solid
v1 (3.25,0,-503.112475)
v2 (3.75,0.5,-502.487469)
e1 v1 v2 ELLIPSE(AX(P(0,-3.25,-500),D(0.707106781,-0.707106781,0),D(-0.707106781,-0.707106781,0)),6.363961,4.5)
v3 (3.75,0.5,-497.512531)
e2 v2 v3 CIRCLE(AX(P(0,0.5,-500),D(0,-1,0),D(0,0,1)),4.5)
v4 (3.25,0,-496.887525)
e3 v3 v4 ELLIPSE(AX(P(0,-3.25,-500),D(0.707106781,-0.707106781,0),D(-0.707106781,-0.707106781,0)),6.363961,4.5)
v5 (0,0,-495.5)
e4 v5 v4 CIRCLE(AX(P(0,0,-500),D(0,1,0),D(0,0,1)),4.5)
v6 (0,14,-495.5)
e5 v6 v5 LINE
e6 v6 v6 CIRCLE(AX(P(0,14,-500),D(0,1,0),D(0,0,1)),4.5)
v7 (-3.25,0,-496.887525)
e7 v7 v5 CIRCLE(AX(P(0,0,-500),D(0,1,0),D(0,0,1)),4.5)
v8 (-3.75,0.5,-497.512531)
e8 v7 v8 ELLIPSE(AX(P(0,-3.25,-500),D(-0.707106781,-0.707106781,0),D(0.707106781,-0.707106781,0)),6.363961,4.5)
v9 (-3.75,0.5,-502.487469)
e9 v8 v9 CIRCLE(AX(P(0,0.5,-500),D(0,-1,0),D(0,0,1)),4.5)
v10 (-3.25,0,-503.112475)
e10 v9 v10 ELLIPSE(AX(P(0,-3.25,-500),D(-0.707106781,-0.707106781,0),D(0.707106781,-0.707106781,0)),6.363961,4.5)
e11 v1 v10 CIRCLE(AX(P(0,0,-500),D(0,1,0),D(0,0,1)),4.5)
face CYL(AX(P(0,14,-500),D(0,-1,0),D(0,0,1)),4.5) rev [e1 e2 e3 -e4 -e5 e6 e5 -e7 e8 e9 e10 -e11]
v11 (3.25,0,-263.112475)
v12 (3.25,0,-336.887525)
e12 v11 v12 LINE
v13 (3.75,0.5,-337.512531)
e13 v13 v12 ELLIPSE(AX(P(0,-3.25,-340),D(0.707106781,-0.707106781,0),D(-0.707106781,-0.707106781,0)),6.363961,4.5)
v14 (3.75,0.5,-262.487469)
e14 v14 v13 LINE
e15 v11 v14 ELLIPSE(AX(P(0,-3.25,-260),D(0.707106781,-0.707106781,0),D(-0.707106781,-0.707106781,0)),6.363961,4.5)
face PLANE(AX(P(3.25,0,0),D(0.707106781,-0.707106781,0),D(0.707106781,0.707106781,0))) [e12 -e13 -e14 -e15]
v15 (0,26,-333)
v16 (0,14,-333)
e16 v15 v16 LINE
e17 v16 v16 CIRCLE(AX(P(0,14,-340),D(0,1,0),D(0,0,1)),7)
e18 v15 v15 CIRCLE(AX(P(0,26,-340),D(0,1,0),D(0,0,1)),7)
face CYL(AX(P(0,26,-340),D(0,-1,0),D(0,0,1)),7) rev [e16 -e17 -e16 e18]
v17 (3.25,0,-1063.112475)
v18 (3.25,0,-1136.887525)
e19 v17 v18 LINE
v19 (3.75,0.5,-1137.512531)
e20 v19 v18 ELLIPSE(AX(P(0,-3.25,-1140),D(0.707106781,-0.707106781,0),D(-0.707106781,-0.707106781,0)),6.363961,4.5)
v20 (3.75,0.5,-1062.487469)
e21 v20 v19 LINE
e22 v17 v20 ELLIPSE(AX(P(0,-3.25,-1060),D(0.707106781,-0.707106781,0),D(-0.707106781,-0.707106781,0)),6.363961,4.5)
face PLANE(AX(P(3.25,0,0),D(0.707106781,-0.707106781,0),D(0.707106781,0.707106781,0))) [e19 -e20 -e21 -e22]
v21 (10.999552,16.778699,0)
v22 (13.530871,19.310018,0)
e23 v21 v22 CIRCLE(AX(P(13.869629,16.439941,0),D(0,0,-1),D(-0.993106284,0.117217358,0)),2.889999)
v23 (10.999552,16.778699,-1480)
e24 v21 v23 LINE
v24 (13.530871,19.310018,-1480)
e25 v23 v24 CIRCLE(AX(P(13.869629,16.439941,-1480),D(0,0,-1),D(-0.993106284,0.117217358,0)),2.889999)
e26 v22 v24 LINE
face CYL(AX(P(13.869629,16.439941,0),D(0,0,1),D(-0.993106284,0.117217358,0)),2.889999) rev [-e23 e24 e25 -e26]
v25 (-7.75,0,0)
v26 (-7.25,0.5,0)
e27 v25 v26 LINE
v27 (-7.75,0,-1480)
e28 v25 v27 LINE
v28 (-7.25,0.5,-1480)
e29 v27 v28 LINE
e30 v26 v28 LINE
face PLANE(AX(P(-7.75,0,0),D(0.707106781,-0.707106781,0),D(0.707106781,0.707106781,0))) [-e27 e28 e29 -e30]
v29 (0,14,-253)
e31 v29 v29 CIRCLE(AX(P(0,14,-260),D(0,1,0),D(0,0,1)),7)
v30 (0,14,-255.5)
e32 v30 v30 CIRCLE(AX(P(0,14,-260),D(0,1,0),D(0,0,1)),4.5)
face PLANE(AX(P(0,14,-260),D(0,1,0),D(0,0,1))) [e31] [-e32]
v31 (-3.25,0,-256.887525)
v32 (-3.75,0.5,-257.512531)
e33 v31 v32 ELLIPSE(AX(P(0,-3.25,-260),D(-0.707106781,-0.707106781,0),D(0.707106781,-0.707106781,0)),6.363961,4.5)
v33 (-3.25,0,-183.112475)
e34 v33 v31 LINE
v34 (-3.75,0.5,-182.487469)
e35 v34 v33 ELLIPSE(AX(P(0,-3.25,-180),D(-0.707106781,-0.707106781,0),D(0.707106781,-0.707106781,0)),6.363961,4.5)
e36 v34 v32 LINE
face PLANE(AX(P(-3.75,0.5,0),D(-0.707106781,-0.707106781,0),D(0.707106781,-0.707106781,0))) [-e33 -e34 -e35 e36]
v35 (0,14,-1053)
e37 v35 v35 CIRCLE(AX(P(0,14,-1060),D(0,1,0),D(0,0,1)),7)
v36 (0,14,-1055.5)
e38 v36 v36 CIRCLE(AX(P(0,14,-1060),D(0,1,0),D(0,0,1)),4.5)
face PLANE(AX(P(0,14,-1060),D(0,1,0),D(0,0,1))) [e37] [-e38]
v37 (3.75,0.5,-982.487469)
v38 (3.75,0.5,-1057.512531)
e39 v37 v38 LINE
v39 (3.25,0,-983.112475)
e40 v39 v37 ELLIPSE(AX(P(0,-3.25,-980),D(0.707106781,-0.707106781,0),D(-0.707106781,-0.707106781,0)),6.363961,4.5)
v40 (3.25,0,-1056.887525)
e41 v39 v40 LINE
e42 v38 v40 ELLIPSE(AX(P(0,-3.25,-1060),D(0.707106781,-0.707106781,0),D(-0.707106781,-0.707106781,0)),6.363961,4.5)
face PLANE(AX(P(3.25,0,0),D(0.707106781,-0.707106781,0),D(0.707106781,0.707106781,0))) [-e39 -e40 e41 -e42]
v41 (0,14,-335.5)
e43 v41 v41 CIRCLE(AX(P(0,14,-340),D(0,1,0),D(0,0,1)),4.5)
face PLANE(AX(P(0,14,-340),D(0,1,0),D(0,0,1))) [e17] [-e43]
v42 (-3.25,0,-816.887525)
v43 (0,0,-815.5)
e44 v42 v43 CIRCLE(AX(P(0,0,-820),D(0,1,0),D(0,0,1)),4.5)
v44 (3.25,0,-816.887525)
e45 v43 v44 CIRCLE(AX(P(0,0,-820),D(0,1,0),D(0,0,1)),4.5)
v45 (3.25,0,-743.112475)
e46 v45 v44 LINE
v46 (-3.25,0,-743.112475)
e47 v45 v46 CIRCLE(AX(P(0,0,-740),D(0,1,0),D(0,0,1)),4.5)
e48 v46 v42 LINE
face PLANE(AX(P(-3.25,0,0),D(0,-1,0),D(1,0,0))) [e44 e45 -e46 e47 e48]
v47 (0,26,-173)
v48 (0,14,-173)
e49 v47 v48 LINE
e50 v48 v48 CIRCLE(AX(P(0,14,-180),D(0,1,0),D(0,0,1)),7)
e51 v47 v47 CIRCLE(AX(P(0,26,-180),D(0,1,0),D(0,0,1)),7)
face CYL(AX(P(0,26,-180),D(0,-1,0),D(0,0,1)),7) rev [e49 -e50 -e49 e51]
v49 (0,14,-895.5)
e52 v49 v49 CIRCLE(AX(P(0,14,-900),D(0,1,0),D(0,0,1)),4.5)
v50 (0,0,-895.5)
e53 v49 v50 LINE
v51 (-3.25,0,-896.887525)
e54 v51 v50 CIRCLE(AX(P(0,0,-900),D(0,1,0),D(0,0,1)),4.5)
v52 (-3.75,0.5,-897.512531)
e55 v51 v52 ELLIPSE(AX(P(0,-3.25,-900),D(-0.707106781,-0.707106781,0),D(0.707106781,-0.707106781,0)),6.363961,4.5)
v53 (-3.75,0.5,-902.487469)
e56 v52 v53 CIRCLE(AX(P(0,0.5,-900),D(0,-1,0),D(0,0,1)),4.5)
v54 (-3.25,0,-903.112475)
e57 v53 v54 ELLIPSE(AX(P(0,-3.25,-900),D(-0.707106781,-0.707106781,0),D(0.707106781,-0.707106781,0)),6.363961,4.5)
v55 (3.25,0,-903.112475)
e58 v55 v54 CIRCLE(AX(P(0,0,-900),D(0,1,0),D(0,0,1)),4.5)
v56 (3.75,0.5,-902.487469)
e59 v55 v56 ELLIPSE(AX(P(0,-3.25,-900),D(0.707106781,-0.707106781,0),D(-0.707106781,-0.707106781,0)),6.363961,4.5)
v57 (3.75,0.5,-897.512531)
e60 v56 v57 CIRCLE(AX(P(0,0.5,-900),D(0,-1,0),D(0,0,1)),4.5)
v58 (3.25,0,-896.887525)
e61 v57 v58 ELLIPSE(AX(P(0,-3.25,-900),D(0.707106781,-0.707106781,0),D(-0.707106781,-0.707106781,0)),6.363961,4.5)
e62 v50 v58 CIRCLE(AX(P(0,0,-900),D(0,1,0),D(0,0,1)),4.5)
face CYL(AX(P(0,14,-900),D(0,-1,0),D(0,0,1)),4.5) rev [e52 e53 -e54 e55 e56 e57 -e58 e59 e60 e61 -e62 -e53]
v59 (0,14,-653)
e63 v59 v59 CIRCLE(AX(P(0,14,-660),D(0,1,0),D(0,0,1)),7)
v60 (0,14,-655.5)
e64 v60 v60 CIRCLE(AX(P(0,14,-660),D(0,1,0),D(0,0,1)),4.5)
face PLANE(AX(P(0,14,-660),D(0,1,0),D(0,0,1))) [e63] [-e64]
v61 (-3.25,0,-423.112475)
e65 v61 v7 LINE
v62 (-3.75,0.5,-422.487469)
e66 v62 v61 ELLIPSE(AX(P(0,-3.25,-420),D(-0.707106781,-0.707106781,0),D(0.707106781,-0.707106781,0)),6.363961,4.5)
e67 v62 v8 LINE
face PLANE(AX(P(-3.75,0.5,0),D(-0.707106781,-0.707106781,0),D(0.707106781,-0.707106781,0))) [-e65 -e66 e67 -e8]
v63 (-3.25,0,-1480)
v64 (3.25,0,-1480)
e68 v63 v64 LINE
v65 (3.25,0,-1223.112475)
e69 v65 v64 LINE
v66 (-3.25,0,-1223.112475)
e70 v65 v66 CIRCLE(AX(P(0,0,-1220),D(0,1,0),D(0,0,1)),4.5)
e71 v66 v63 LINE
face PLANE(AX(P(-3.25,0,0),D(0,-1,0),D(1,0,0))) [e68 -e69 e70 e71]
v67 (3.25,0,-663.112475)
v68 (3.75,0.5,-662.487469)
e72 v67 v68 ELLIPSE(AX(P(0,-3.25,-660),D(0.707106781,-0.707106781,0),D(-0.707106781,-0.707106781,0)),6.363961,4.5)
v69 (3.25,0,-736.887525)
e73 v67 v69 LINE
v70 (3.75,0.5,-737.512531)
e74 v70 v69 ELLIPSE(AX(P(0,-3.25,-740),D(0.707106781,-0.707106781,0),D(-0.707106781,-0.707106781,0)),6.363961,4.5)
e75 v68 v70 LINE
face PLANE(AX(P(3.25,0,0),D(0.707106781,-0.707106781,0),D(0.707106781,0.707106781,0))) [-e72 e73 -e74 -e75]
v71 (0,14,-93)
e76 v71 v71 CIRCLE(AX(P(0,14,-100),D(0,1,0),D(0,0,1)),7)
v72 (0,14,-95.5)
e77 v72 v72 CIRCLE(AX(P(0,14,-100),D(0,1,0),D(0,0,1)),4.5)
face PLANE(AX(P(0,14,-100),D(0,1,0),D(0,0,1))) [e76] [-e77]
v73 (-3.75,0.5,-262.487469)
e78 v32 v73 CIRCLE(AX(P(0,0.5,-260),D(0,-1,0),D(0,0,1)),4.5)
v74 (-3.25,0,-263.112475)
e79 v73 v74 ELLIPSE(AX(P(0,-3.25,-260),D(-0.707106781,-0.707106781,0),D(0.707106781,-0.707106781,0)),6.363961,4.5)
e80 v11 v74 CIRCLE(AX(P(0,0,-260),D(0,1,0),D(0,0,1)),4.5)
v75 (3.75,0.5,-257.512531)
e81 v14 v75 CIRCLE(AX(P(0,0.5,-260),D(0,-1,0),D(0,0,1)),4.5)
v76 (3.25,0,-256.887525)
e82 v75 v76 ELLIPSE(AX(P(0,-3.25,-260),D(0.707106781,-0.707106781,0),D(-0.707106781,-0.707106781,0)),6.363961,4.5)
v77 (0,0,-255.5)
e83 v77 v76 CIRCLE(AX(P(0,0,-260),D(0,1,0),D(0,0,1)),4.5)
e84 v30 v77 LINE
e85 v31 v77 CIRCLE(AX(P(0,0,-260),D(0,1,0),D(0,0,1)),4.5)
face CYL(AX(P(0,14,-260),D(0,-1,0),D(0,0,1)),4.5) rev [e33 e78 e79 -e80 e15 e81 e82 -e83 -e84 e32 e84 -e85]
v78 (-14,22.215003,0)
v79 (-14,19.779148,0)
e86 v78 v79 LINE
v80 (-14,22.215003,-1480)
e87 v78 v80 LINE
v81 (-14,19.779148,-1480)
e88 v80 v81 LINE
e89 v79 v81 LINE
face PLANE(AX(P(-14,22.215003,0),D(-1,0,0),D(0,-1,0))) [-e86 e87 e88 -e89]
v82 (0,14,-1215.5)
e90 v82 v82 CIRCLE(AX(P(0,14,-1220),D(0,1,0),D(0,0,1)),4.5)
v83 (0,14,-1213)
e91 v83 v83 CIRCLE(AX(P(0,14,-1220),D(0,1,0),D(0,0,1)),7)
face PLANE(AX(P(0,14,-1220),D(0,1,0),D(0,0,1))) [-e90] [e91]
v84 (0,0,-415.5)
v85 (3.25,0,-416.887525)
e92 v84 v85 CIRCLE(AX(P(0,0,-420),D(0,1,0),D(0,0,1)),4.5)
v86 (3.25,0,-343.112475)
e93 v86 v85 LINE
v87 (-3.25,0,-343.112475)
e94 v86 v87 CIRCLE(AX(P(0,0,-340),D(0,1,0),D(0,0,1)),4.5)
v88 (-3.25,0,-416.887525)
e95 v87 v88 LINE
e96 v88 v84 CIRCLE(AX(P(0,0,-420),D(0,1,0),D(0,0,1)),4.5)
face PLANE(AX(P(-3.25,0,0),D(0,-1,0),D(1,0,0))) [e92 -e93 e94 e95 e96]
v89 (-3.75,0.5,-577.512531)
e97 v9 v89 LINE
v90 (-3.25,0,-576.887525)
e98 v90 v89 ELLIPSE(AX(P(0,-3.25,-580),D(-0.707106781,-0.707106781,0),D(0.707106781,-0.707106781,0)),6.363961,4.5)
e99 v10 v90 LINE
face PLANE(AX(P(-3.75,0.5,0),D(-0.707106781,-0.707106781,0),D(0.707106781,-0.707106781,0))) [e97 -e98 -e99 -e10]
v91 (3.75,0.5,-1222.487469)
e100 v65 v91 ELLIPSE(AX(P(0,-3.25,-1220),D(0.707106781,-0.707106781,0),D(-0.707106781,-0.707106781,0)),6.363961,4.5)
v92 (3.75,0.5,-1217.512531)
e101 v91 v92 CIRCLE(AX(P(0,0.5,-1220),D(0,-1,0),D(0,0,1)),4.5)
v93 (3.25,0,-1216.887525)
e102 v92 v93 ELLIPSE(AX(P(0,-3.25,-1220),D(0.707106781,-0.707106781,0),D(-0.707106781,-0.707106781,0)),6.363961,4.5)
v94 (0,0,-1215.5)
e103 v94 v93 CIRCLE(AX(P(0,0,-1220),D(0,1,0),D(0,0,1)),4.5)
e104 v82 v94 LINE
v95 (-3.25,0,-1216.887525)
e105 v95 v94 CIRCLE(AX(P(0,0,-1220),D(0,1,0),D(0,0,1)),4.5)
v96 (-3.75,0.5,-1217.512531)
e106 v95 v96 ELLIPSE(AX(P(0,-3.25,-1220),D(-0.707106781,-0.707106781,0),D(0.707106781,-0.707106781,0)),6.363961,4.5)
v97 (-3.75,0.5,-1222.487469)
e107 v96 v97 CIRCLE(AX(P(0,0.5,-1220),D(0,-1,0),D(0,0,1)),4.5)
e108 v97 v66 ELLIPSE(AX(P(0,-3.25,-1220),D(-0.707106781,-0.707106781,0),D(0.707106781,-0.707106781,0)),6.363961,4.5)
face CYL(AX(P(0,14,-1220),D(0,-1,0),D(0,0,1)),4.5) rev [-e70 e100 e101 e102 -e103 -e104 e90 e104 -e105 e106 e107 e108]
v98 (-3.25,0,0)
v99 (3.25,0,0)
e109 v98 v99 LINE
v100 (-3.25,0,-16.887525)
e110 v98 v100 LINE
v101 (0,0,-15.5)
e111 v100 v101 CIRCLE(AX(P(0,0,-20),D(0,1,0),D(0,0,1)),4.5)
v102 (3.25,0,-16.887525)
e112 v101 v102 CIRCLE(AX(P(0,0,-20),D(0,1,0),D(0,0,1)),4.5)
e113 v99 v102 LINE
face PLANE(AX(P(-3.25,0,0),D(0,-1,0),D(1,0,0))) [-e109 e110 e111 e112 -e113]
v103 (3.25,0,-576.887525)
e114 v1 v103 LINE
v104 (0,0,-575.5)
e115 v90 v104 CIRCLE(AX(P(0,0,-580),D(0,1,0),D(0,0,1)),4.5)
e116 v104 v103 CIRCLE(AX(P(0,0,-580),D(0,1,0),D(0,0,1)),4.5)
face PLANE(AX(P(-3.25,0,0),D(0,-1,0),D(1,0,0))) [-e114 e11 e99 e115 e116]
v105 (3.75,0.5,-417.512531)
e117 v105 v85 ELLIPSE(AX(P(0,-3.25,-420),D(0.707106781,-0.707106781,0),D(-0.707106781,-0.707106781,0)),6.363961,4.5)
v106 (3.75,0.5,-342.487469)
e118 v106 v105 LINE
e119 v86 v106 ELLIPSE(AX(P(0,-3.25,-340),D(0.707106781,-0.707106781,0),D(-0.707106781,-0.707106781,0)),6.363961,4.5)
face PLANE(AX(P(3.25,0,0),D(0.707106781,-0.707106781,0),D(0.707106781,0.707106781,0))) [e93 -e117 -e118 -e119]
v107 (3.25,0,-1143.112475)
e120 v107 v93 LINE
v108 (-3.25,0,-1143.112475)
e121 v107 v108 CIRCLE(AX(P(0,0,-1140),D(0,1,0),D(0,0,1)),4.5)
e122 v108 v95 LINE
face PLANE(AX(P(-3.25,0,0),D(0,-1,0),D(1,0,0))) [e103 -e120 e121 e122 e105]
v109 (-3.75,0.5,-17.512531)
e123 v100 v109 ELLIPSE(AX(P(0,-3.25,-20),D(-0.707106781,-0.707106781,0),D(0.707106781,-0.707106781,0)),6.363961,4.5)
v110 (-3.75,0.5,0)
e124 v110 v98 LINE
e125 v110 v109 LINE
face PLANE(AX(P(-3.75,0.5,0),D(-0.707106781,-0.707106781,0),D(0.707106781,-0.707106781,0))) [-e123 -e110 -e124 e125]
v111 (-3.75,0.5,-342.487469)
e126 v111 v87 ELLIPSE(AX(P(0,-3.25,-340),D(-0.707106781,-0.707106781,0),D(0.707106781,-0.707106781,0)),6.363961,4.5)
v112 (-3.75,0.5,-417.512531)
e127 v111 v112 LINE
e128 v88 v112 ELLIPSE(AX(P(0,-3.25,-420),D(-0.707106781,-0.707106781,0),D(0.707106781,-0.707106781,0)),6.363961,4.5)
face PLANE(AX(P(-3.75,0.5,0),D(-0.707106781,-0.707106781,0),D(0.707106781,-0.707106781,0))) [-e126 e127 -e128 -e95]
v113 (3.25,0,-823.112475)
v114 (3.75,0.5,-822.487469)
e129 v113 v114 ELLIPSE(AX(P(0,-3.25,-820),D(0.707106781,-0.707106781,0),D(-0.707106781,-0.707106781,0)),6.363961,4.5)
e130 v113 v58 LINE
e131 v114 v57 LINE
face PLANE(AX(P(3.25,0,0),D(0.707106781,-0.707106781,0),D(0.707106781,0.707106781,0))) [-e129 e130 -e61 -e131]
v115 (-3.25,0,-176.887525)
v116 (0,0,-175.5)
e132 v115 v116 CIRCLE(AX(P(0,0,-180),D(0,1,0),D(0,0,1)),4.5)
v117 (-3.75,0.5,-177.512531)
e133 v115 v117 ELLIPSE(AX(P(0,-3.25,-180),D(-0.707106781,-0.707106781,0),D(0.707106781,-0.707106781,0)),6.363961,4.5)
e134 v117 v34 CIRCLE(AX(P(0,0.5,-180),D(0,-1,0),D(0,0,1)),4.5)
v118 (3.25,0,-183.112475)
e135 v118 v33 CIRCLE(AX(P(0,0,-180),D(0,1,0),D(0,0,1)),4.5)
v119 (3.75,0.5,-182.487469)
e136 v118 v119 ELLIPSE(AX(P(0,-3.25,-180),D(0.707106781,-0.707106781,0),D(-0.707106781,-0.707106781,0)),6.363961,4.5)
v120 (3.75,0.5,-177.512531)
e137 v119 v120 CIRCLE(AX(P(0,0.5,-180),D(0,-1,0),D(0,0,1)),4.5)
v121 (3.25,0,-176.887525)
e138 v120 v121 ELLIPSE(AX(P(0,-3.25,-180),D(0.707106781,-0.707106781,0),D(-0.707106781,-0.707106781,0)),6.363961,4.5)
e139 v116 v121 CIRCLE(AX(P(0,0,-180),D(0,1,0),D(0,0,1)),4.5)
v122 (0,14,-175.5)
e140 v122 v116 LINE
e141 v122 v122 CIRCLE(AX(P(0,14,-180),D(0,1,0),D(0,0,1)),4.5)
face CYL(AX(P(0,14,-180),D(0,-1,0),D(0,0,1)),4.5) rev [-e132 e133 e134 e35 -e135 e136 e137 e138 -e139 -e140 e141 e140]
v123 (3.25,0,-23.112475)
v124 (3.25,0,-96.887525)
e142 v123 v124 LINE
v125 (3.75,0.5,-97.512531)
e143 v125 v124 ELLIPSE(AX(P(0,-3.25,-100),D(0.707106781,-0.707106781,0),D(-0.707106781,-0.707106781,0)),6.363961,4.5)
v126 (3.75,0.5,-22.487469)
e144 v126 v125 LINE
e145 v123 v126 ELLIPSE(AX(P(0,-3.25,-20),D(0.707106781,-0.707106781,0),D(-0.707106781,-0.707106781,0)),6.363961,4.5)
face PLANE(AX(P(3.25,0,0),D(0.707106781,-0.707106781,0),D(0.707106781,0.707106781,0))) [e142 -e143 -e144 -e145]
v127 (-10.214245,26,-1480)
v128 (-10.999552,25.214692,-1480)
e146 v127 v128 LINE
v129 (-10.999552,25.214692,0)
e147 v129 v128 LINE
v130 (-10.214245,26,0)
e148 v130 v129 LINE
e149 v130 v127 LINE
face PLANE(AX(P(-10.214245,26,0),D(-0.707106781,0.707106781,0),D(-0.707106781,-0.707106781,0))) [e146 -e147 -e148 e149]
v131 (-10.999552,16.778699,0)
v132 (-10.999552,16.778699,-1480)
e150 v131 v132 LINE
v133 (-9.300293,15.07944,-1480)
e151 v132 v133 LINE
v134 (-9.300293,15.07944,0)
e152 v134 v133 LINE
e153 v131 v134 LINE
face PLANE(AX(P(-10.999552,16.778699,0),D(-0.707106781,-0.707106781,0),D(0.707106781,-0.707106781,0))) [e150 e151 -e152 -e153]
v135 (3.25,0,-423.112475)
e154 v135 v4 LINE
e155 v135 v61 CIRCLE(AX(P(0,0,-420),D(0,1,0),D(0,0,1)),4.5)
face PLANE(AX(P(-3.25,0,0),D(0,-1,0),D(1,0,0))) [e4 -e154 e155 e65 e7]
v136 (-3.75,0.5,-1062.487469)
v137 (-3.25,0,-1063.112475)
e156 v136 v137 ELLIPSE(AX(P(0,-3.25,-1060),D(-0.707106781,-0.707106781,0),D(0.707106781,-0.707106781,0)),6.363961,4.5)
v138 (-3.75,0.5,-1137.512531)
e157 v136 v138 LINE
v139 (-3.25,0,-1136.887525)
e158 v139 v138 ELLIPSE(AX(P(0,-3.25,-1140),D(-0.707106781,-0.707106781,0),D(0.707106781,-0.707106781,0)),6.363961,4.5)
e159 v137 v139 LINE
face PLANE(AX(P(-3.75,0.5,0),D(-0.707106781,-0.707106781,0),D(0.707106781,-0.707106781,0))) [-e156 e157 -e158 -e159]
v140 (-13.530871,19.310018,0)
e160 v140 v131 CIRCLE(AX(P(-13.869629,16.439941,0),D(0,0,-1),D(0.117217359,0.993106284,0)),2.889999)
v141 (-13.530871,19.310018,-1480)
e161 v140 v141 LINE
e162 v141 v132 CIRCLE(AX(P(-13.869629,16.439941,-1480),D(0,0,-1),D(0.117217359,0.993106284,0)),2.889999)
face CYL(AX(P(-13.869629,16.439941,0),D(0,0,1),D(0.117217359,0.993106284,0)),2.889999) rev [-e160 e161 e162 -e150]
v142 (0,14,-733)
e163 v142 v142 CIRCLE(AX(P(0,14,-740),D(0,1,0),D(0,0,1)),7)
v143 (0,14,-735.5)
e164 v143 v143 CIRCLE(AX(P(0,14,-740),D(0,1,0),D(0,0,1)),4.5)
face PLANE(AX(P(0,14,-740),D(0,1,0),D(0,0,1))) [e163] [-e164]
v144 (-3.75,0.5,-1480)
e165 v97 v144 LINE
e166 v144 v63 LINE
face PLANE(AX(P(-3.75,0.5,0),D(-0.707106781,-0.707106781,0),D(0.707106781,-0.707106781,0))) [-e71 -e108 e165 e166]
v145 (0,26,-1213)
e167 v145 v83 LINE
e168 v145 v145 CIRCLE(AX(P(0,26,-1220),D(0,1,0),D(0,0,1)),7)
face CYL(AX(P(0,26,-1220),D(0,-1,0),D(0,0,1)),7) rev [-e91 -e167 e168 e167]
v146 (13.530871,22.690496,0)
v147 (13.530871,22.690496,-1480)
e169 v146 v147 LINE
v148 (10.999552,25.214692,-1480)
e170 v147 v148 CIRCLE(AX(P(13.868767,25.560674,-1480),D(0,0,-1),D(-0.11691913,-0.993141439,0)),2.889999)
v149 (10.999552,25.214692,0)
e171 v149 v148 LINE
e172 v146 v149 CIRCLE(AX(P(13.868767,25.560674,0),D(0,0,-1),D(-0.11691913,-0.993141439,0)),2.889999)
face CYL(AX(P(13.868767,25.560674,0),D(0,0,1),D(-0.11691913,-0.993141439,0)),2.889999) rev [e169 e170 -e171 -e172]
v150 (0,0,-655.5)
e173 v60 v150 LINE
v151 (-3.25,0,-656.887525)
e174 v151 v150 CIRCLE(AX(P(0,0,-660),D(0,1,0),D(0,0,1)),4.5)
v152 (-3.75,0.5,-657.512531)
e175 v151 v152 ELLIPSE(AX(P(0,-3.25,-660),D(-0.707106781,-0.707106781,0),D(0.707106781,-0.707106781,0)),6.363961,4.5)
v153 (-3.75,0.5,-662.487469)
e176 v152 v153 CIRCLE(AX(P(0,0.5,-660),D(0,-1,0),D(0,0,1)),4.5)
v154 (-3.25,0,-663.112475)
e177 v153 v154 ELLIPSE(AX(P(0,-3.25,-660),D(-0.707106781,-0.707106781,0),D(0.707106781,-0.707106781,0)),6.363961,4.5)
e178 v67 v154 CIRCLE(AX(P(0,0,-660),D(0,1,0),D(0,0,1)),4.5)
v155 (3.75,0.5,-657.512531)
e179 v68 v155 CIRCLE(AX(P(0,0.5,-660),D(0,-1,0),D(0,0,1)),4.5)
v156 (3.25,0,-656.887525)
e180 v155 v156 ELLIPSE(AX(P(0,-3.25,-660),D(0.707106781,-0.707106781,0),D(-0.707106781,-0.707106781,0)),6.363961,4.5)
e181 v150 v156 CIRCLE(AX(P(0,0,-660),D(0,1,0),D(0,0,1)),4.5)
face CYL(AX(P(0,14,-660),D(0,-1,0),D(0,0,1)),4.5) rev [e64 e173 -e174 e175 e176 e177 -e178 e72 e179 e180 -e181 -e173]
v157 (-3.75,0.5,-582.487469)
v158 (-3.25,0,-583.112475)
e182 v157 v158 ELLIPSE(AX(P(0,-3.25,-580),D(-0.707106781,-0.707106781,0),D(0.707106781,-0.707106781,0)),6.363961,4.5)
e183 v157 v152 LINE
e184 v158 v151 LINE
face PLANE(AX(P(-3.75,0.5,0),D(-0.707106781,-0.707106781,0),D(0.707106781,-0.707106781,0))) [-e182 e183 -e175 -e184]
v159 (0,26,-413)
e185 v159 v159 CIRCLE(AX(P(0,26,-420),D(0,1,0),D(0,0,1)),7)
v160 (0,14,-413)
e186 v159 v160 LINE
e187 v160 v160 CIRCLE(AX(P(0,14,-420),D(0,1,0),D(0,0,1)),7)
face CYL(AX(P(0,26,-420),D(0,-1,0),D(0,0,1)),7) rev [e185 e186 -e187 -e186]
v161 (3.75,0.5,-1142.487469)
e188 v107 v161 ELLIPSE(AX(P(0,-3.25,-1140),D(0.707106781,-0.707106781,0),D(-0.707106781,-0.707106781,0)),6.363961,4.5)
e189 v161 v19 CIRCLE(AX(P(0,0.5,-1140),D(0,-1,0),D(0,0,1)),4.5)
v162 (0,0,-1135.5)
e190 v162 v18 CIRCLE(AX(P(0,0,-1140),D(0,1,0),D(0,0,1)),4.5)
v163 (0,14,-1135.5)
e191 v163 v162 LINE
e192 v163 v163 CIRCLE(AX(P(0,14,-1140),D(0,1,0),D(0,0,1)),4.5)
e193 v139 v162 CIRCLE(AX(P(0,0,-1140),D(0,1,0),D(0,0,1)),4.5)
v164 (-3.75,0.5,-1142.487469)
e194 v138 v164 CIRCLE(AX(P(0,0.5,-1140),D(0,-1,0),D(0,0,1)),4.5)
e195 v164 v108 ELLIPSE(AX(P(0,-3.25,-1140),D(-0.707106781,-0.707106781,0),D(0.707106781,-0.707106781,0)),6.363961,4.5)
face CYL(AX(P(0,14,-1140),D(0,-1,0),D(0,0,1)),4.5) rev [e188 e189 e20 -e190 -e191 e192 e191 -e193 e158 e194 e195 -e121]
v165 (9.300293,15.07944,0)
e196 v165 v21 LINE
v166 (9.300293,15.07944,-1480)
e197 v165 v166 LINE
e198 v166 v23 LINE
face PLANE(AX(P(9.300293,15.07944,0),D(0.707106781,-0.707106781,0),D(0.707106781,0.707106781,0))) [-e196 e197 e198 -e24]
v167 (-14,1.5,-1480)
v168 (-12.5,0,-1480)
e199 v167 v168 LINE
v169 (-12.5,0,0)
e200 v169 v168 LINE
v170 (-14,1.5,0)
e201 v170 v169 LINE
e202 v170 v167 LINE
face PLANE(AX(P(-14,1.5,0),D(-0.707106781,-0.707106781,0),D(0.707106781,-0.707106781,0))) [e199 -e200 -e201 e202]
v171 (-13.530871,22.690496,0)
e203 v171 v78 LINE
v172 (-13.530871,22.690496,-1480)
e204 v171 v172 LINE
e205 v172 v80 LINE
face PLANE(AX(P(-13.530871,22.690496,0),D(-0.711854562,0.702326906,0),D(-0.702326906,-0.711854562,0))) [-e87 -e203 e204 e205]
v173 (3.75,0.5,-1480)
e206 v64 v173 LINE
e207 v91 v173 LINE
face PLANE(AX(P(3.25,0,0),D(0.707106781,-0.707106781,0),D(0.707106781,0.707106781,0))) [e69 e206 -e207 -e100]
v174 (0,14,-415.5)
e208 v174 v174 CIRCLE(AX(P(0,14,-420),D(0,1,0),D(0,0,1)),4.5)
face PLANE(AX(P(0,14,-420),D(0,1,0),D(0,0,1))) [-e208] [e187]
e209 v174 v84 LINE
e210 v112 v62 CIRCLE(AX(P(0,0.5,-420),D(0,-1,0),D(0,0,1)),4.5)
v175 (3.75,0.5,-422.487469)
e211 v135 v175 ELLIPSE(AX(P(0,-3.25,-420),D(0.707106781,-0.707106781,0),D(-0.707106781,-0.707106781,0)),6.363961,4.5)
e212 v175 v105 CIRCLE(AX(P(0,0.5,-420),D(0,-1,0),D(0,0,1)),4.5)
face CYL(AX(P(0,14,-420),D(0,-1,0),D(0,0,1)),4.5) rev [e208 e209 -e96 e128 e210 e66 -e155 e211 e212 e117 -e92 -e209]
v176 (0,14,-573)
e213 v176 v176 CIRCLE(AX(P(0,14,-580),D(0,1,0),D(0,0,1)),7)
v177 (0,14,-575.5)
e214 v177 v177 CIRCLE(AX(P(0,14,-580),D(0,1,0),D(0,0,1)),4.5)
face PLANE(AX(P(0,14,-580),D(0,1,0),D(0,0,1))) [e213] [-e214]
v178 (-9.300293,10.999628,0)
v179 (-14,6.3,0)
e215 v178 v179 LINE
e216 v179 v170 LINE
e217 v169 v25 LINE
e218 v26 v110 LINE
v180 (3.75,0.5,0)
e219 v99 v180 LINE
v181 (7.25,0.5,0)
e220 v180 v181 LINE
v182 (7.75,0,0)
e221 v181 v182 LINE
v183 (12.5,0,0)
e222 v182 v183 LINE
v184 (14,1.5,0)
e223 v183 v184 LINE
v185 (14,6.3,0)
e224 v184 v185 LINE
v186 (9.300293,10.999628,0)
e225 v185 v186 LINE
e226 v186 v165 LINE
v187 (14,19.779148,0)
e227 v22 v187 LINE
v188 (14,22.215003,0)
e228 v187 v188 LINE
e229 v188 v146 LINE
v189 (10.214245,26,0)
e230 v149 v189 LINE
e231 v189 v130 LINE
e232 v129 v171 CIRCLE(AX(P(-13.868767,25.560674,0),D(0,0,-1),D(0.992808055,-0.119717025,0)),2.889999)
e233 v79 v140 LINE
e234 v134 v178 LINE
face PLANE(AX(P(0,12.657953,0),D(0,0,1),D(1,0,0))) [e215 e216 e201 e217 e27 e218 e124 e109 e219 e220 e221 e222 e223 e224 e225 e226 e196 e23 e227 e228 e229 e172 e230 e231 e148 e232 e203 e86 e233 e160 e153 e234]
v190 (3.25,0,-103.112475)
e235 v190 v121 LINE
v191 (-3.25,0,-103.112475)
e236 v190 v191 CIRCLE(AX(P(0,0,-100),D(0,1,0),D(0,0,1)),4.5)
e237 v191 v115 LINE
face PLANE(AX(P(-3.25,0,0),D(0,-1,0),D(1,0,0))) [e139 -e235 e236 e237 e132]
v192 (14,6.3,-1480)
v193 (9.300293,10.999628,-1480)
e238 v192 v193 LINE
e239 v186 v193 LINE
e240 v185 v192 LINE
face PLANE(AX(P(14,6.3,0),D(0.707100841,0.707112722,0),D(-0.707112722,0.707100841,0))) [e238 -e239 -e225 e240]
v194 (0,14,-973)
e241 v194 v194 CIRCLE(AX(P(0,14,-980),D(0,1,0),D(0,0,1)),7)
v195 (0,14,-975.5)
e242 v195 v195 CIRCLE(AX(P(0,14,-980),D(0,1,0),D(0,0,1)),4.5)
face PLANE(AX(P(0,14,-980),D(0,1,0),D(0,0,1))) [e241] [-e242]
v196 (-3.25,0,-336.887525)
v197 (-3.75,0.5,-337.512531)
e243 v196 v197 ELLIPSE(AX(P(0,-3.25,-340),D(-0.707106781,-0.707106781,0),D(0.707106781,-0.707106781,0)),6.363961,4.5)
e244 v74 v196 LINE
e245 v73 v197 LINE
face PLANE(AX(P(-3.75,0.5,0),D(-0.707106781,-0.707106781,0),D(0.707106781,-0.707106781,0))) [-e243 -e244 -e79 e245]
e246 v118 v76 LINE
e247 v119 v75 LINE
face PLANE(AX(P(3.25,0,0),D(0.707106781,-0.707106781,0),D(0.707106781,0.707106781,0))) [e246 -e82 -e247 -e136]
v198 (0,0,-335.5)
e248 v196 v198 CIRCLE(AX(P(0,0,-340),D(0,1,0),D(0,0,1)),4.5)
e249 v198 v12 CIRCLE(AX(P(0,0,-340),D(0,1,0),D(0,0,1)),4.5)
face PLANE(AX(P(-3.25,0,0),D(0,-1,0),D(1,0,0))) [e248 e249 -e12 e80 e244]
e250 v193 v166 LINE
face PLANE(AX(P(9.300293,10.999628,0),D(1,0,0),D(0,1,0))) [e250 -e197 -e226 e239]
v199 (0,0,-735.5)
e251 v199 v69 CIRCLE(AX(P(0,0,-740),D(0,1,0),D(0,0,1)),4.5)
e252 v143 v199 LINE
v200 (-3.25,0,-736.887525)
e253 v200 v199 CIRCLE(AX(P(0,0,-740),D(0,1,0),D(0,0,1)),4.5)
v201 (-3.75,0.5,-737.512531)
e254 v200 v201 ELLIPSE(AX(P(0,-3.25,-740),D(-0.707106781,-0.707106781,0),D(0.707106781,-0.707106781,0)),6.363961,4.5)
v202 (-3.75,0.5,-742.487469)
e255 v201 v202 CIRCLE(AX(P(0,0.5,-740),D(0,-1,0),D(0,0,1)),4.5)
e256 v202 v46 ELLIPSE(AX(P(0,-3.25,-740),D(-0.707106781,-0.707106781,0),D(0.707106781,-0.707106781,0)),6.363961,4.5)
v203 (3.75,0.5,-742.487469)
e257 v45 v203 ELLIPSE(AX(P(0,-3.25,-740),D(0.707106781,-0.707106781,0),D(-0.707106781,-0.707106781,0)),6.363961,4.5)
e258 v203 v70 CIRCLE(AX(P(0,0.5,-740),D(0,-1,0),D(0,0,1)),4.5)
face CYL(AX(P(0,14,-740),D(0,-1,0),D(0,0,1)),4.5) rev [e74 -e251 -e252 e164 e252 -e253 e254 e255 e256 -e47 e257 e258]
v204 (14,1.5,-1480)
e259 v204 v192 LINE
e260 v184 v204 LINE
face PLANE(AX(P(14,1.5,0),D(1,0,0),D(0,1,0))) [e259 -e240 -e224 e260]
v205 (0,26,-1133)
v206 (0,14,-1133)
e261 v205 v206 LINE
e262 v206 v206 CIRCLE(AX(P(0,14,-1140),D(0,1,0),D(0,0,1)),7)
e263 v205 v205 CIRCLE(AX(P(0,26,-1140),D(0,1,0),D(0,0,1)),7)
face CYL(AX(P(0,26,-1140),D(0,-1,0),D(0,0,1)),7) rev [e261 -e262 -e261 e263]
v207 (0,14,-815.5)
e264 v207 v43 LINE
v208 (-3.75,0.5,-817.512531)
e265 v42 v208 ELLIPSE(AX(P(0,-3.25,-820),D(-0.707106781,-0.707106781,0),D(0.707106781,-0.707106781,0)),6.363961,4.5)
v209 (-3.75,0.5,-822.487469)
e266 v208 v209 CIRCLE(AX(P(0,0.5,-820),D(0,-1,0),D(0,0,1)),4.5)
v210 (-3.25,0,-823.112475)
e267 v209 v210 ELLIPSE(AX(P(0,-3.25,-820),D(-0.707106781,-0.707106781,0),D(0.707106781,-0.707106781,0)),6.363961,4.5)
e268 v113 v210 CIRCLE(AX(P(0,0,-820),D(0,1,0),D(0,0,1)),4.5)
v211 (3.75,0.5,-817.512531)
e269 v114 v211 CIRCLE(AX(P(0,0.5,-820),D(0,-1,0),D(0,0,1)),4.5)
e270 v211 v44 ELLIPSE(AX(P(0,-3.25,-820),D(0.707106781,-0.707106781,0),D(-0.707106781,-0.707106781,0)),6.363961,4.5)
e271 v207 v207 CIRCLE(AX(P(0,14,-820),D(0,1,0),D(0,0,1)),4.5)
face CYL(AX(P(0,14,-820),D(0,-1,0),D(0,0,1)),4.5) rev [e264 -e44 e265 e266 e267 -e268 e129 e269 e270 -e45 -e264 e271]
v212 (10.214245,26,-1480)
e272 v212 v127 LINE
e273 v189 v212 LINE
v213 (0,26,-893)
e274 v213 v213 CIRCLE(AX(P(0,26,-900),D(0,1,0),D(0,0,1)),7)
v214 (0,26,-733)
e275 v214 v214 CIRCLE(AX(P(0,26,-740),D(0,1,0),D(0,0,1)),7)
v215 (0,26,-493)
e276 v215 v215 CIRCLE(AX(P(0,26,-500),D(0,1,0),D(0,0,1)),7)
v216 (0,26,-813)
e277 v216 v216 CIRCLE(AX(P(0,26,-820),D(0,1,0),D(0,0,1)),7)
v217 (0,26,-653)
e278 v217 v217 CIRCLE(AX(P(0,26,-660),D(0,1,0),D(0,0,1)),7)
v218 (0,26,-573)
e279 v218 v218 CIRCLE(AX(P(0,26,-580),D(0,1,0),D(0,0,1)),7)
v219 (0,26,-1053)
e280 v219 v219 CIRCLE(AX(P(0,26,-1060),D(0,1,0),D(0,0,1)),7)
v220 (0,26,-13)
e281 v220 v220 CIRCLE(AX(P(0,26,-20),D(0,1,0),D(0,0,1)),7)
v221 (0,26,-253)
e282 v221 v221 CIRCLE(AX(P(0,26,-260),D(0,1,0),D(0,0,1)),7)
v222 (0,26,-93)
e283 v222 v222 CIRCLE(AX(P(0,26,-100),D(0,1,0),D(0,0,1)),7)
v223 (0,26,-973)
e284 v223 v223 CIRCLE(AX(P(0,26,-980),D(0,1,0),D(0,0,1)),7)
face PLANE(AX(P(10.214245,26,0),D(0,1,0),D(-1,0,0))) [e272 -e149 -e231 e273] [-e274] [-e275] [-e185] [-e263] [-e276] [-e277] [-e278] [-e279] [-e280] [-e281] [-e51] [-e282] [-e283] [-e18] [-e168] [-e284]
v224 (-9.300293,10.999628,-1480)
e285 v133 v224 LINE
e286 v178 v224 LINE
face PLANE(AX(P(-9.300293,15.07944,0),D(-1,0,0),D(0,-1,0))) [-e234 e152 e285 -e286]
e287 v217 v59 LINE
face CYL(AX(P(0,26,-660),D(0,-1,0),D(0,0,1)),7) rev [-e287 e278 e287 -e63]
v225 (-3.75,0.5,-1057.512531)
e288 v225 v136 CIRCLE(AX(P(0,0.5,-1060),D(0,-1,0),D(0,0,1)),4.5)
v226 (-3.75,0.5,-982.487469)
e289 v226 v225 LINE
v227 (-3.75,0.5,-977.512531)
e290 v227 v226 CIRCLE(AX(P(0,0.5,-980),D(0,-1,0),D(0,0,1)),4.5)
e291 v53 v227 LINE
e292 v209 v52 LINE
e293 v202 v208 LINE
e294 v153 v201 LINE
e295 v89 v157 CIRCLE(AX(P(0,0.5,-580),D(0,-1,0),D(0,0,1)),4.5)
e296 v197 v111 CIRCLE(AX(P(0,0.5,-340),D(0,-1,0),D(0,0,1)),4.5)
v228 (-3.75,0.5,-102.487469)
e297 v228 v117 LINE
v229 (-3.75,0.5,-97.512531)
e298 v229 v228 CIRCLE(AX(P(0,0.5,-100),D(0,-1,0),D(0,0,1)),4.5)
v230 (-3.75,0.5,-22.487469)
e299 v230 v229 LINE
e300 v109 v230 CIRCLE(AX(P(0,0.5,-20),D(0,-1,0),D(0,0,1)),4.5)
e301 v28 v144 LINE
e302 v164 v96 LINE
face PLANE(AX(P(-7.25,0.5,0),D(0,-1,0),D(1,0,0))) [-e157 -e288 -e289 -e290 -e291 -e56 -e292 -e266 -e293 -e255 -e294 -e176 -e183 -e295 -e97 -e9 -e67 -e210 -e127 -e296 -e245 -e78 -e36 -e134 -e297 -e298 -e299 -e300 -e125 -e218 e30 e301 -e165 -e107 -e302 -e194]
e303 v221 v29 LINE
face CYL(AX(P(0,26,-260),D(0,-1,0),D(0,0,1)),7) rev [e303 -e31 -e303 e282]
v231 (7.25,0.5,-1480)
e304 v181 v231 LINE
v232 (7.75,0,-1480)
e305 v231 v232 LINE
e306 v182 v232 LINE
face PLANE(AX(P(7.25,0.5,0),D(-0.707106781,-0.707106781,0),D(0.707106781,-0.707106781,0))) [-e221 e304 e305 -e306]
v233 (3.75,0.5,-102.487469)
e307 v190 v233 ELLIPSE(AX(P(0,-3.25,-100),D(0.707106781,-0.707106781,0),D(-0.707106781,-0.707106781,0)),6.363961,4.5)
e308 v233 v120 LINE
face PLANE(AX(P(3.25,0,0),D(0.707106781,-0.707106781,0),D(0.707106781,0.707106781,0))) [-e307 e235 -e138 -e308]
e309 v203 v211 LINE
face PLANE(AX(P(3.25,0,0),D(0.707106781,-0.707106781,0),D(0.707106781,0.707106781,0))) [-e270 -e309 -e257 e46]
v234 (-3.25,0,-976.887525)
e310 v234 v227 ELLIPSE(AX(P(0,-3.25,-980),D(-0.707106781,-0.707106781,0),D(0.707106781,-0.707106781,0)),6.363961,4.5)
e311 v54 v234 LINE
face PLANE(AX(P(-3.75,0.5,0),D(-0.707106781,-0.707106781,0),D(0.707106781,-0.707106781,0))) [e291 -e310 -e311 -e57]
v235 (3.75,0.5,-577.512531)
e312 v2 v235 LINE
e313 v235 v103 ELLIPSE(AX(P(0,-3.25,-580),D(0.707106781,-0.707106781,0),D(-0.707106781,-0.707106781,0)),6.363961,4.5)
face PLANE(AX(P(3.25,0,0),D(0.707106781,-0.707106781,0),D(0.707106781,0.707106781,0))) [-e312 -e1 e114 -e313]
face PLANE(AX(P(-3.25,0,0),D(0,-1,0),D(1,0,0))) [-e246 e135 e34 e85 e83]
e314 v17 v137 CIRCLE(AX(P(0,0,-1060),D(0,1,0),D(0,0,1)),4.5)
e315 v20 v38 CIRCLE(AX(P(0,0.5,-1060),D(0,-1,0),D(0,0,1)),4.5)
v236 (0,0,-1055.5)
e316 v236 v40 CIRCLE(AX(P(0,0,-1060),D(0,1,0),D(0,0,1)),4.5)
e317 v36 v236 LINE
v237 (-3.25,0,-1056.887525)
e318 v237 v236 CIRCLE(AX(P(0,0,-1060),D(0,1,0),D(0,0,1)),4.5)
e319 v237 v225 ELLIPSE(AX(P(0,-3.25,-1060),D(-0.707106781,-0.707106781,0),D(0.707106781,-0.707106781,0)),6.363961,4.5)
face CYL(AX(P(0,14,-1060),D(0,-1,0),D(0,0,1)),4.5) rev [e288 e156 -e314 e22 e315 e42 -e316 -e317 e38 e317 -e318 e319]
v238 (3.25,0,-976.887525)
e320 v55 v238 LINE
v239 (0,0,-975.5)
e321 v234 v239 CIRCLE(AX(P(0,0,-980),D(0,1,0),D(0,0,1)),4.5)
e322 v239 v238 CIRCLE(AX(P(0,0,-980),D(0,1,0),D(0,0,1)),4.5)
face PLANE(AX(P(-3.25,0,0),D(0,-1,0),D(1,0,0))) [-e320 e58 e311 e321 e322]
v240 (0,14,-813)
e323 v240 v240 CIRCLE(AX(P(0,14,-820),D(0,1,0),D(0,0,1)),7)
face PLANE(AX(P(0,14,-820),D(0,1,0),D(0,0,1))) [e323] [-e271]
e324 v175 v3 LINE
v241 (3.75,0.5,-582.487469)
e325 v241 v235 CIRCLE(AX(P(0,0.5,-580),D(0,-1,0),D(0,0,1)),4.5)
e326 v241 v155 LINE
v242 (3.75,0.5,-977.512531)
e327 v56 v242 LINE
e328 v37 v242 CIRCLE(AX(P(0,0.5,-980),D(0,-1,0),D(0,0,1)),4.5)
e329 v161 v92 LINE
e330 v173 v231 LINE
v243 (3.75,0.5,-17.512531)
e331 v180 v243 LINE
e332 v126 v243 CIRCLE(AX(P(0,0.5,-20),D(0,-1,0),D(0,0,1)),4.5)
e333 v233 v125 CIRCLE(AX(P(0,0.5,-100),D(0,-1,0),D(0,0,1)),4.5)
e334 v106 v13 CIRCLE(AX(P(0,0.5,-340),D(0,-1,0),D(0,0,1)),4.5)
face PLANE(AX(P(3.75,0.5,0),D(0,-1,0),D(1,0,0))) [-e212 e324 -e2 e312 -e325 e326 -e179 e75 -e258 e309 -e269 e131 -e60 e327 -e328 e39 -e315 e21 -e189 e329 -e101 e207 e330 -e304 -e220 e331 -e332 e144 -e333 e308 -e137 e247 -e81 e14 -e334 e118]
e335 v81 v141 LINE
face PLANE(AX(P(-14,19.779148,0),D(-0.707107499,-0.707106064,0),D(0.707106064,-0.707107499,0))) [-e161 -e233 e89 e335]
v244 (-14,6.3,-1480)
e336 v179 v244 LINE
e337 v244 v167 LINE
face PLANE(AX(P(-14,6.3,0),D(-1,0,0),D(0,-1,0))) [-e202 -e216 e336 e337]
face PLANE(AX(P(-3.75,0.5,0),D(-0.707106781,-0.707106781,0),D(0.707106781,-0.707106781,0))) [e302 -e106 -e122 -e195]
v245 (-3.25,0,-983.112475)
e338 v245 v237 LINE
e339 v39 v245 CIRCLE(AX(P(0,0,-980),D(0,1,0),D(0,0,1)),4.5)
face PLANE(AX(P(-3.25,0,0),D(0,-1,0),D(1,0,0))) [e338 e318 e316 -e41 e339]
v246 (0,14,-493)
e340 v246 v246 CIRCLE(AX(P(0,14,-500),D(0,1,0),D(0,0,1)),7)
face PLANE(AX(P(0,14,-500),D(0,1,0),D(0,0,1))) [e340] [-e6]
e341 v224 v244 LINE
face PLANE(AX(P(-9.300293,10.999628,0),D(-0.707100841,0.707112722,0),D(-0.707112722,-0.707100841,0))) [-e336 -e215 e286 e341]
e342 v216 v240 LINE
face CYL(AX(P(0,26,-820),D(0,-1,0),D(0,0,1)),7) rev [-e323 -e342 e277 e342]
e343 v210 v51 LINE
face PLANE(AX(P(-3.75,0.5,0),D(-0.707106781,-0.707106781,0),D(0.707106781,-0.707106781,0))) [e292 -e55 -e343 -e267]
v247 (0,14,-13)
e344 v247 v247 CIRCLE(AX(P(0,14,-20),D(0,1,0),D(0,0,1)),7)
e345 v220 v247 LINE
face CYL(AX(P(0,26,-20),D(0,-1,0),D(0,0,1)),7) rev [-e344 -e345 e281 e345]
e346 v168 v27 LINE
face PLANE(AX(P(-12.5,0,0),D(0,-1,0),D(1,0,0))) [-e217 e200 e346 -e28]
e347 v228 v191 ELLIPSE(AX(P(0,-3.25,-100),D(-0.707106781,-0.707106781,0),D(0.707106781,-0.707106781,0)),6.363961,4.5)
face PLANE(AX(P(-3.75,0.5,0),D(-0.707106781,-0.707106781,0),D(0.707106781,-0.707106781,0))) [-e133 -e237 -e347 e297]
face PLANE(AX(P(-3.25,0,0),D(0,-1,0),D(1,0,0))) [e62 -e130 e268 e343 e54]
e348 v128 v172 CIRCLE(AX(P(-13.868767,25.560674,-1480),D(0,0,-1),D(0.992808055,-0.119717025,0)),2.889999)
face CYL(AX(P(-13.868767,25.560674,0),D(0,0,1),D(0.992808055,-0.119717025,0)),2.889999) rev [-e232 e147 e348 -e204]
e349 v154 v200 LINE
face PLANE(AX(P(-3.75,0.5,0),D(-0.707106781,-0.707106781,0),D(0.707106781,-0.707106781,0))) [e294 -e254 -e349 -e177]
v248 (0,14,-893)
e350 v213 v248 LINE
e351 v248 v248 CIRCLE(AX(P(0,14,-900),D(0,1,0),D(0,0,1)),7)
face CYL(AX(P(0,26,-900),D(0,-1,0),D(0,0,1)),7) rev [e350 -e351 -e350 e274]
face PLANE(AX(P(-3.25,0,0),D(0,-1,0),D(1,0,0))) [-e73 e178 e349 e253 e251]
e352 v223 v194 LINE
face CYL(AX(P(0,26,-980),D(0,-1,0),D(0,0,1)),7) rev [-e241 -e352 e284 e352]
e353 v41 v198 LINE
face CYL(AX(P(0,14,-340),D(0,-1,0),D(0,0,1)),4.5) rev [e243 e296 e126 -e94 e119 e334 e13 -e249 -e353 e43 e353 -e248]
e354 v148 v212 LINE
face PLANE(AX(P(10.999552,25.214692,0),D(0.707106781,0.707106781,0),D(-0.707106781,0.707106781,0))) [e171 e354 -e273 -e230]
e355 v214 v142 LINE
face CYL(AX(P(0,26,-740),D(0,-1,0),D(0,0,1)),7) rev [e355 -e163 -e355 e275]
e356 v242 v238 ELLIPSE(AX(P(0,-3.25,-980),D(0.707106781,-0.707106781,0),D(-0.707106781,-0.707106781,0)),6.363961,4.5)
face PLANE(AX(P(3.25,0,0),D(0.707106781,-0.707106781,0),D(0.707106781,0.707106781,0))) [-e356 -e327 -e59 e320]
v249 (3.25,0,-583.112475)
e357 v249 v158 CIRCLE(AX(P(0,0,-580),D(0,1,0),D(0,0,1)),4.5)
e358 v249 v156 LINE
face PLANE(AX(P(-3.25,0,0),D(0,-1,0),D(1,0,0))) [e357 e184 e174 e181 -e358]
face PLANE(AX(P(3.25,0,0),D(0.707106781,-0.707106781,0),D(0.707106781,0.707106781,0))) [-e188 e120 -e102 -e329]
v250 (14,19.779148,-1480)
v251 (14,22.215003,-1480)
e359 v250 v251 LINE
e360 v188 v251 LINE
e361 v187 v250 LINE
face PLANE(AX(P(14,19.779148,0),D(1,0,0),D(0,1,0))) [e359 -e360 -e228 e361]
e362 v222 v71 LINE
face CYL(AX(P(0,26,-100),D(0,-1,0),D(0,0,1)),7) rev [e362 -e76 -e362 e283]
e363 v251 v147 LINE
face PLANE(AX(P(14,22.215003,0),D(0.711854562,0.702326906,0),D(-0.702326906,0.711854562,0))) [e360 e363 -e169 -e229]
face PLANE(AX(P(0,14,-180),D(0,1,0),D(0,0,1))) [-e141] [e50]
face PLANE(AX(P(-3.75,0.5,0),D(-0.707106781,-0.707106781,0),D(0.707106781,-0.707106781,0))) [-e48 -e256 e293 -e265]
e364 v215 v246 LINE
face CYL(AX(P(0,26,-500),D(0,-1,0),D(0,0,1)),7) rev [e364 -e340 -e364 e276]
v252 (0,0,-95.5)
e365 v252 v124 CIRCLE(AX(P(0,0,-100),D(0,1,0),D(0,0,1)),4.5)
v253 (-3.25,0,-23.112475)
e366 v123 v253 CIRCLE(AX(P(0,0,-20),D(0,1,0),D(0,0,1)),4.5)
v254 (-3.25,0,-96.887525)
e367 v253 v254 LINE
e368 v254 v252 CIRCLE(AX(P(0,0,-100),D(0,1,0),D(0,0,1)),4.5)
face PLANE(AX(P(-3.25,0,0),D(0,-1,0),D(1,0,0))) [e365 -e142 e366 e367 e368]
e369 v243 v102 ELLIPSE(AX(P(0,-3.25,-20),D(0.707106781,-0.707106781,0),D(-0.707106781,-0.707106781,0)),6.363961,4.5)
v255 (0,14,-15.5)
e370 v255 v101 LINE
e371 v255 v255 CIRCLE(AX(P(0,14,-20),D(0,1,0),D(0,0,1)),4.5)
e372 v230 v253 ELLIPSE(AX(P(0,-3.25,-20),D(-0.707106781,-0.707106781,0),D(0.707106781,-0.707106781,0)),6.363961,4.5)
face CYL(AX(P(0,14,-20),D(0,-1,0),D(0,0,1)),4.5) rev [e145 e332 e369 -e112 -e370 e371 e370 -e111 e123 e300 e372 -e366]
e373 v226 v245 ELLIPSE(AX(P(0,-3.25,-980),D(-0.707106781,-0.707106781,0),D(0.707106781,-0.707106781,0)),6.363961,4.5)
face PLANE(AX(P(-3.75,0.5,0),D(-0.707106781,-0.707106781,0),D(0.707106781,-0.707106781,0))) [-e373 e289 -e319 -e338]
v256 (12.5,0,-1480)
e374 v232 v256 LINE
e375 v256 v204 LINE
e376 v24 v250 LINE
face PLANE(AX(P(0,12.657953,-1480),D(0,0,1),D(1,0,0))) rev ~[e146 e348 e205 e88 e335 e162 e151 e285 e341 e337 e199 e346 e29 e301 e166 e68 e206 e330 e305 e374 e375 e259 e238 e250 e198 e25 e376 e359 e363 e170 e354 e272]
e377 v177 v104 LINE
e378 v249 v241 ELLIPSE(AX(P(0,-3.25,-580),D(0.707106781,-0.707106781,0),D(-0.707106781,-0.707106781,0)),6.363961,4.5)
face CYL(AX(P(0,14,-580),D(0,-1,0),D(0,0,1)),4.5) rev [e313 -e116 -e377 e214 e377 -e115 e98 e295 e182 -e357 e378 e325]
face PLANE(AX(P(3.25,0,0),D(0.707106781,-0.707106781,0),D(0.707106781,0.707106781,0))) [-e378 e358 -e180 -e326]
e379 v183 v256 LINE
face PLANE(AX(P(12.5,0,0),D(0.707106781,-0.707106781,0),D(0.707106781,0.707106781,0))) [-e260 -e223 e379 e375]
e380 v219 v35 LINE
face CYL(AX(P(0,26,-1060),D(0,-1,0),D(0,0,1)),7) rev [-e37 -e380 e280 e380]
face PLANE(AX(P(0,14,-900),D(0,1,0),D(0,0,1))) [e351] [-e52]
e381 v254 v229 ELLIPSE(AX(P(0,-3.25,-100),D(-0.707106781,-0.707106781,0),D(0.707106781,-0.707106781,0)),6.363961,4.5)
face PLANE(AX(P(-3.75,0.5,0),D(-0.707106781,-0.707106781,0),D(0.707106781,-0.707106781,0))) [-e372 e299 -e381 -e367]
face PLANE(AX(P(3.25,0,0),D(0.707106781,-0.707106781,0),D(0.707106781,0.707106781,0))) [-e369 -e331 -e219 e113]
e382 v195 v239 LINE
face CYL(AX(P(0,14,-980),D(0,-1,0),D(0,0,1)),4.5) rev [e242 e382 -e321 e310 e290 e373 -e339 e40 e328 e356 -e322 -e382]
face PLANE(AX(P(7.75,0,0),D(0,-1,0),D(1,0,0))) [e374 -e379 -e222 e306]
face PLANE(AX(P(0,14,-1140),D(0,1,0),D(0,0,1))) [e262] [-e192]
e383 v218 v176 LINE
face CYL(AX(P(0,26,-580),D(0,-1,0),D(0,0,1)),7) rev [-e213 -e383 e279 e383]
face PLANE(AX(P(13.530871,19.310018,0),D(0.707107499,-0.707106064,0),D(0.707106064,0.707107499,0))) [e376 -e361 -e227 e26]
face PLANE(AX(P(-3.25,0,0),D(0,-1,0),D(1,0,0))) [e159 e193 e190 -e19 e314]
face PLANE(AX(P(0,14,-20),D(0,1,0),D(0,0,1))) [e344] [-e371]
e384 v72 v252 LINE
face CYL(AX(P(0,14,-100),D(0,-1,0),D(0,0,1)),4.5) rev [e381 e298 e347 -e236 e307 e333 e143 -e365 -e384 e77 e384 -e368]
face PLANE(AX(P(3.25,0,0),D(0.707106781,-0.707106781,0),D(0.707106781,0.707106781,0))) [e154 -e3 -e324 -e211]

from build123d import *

# Parameters (mm, degrees)
EXTRUDE1_DEPTH  = 1480
LPATTERN1_COUNT = 16
LPATTERN1_PITCH = 80


with BuildPart() as part:
    # Sketch1 → Extrude1 (new body)
    with BuildSketch(Plane(origin=(-20, 0, 0), x_dir=(1, 0, 0), z_dir=(0, 0, 1))):
        with BuildLine():
            Line((6, 22.215003013), (6, 19.779148101))
            Line((6, 19.779148101), (6.469129189, 19.31001796))
            ThreePointArc((6.469129189, 19.31001796), (8.17390926, 18.483479572), (9.000447648, 16.7786995))
            Line((9.000447648, 16.7786995), (10.699707031, 15.079440117))
            Line((10.699707031, 15.079440117), (10.699707031, 10.999628067))
            Line((10.699707031, 10.999628067), (6, 6.3))
            Line((6, 6.3), (6, 1.5))
            Line((6, 1.5), (7.5, 0))
            Line((7.5, 0), (12.25, 0))
            Line((12.25, 0), (12.75, 0.5))
            Line((12.75, 0.5), (16.25, 0.5))
            Line((16.25, 0.5), (16.75, 0))
            Line((16.75, 0), (23.25, 0))
            Line((23.25, 0), (23.75, 0.5))
            Line((23.75, 0.5), (27.25, 0.5))
            Line((27.25, 0.5), (27.75, 0))
            Line((27.75, 0), (32.5, 0))
            Line((32.5, 0), (34, 1.5))
            Line((34, 1.5), (34, 6.3))
            Line((34, 6.3), (29.300292969, 10.999628067))
            Line((29.300292969, 10.999628067), (29.300292969, 15.079440117))
            Line((29.300292969, 15.079440117), (30.999552352, 16.7786995))
            ThreePointArc((30.999552352, 16.7786995), (31.82609074, 18.483479572), (33.530870811, 19.31001796))
            Line((33.530870811, 19.31001796), (34, 19.779148101))
            Line((34, 19.779148101), (34, 22.215003013))
            Line((34, 22.215003013), (33.530870811, 22.690496335))
            ThreePointArc((33.530870811, 22.690496335), (31.828109913, 23.514259322), (30.999552352, 25.214692356))
            Line((30.999552352, 25.214692356), (30.214244708, 26))
            Line((30.214244708, 26), (9.785755292, 26))
            Line((9.785755292, 26), (9.000447648, 25.214692356))
            ThreePointArc((9.000447648, 25.214692356), (8.171890087, 23.514259322), (6.469129189, 22.690496335))
            Line((6.469129189, 22.690496335), (6, 22.215003013))
        make_face()
    extrude(amount=-EXTRUDE1_DEPTH)

    # Sketch2 → Cut-Revolve1 (revolve, cut)
    with BuildSketch(Plane(origin=(0, 0, 0), x_dir=(0, 0, -1), z_dir=(1, 0, 0))):
        Polygon((20, 26), (27, 26), (27, 14), (24.5, 14), (24.5, 0), (20, 0), align=None)
    cut_revolve1 = revolve(axis=Axis((0, 0, -20), (0, 1, 0)), mode=Mode.SUBTRACT)

    # LPattern1: Cut-Revolve1 ×16
    with Locations(*[(0, 0, -i * LPATTERN1_PITCH) for i in range(1, LPATTERN1_COUNT)]):
        add(cut_revolve1, mode=Mode.SUBTRACT)


solid = part.part
